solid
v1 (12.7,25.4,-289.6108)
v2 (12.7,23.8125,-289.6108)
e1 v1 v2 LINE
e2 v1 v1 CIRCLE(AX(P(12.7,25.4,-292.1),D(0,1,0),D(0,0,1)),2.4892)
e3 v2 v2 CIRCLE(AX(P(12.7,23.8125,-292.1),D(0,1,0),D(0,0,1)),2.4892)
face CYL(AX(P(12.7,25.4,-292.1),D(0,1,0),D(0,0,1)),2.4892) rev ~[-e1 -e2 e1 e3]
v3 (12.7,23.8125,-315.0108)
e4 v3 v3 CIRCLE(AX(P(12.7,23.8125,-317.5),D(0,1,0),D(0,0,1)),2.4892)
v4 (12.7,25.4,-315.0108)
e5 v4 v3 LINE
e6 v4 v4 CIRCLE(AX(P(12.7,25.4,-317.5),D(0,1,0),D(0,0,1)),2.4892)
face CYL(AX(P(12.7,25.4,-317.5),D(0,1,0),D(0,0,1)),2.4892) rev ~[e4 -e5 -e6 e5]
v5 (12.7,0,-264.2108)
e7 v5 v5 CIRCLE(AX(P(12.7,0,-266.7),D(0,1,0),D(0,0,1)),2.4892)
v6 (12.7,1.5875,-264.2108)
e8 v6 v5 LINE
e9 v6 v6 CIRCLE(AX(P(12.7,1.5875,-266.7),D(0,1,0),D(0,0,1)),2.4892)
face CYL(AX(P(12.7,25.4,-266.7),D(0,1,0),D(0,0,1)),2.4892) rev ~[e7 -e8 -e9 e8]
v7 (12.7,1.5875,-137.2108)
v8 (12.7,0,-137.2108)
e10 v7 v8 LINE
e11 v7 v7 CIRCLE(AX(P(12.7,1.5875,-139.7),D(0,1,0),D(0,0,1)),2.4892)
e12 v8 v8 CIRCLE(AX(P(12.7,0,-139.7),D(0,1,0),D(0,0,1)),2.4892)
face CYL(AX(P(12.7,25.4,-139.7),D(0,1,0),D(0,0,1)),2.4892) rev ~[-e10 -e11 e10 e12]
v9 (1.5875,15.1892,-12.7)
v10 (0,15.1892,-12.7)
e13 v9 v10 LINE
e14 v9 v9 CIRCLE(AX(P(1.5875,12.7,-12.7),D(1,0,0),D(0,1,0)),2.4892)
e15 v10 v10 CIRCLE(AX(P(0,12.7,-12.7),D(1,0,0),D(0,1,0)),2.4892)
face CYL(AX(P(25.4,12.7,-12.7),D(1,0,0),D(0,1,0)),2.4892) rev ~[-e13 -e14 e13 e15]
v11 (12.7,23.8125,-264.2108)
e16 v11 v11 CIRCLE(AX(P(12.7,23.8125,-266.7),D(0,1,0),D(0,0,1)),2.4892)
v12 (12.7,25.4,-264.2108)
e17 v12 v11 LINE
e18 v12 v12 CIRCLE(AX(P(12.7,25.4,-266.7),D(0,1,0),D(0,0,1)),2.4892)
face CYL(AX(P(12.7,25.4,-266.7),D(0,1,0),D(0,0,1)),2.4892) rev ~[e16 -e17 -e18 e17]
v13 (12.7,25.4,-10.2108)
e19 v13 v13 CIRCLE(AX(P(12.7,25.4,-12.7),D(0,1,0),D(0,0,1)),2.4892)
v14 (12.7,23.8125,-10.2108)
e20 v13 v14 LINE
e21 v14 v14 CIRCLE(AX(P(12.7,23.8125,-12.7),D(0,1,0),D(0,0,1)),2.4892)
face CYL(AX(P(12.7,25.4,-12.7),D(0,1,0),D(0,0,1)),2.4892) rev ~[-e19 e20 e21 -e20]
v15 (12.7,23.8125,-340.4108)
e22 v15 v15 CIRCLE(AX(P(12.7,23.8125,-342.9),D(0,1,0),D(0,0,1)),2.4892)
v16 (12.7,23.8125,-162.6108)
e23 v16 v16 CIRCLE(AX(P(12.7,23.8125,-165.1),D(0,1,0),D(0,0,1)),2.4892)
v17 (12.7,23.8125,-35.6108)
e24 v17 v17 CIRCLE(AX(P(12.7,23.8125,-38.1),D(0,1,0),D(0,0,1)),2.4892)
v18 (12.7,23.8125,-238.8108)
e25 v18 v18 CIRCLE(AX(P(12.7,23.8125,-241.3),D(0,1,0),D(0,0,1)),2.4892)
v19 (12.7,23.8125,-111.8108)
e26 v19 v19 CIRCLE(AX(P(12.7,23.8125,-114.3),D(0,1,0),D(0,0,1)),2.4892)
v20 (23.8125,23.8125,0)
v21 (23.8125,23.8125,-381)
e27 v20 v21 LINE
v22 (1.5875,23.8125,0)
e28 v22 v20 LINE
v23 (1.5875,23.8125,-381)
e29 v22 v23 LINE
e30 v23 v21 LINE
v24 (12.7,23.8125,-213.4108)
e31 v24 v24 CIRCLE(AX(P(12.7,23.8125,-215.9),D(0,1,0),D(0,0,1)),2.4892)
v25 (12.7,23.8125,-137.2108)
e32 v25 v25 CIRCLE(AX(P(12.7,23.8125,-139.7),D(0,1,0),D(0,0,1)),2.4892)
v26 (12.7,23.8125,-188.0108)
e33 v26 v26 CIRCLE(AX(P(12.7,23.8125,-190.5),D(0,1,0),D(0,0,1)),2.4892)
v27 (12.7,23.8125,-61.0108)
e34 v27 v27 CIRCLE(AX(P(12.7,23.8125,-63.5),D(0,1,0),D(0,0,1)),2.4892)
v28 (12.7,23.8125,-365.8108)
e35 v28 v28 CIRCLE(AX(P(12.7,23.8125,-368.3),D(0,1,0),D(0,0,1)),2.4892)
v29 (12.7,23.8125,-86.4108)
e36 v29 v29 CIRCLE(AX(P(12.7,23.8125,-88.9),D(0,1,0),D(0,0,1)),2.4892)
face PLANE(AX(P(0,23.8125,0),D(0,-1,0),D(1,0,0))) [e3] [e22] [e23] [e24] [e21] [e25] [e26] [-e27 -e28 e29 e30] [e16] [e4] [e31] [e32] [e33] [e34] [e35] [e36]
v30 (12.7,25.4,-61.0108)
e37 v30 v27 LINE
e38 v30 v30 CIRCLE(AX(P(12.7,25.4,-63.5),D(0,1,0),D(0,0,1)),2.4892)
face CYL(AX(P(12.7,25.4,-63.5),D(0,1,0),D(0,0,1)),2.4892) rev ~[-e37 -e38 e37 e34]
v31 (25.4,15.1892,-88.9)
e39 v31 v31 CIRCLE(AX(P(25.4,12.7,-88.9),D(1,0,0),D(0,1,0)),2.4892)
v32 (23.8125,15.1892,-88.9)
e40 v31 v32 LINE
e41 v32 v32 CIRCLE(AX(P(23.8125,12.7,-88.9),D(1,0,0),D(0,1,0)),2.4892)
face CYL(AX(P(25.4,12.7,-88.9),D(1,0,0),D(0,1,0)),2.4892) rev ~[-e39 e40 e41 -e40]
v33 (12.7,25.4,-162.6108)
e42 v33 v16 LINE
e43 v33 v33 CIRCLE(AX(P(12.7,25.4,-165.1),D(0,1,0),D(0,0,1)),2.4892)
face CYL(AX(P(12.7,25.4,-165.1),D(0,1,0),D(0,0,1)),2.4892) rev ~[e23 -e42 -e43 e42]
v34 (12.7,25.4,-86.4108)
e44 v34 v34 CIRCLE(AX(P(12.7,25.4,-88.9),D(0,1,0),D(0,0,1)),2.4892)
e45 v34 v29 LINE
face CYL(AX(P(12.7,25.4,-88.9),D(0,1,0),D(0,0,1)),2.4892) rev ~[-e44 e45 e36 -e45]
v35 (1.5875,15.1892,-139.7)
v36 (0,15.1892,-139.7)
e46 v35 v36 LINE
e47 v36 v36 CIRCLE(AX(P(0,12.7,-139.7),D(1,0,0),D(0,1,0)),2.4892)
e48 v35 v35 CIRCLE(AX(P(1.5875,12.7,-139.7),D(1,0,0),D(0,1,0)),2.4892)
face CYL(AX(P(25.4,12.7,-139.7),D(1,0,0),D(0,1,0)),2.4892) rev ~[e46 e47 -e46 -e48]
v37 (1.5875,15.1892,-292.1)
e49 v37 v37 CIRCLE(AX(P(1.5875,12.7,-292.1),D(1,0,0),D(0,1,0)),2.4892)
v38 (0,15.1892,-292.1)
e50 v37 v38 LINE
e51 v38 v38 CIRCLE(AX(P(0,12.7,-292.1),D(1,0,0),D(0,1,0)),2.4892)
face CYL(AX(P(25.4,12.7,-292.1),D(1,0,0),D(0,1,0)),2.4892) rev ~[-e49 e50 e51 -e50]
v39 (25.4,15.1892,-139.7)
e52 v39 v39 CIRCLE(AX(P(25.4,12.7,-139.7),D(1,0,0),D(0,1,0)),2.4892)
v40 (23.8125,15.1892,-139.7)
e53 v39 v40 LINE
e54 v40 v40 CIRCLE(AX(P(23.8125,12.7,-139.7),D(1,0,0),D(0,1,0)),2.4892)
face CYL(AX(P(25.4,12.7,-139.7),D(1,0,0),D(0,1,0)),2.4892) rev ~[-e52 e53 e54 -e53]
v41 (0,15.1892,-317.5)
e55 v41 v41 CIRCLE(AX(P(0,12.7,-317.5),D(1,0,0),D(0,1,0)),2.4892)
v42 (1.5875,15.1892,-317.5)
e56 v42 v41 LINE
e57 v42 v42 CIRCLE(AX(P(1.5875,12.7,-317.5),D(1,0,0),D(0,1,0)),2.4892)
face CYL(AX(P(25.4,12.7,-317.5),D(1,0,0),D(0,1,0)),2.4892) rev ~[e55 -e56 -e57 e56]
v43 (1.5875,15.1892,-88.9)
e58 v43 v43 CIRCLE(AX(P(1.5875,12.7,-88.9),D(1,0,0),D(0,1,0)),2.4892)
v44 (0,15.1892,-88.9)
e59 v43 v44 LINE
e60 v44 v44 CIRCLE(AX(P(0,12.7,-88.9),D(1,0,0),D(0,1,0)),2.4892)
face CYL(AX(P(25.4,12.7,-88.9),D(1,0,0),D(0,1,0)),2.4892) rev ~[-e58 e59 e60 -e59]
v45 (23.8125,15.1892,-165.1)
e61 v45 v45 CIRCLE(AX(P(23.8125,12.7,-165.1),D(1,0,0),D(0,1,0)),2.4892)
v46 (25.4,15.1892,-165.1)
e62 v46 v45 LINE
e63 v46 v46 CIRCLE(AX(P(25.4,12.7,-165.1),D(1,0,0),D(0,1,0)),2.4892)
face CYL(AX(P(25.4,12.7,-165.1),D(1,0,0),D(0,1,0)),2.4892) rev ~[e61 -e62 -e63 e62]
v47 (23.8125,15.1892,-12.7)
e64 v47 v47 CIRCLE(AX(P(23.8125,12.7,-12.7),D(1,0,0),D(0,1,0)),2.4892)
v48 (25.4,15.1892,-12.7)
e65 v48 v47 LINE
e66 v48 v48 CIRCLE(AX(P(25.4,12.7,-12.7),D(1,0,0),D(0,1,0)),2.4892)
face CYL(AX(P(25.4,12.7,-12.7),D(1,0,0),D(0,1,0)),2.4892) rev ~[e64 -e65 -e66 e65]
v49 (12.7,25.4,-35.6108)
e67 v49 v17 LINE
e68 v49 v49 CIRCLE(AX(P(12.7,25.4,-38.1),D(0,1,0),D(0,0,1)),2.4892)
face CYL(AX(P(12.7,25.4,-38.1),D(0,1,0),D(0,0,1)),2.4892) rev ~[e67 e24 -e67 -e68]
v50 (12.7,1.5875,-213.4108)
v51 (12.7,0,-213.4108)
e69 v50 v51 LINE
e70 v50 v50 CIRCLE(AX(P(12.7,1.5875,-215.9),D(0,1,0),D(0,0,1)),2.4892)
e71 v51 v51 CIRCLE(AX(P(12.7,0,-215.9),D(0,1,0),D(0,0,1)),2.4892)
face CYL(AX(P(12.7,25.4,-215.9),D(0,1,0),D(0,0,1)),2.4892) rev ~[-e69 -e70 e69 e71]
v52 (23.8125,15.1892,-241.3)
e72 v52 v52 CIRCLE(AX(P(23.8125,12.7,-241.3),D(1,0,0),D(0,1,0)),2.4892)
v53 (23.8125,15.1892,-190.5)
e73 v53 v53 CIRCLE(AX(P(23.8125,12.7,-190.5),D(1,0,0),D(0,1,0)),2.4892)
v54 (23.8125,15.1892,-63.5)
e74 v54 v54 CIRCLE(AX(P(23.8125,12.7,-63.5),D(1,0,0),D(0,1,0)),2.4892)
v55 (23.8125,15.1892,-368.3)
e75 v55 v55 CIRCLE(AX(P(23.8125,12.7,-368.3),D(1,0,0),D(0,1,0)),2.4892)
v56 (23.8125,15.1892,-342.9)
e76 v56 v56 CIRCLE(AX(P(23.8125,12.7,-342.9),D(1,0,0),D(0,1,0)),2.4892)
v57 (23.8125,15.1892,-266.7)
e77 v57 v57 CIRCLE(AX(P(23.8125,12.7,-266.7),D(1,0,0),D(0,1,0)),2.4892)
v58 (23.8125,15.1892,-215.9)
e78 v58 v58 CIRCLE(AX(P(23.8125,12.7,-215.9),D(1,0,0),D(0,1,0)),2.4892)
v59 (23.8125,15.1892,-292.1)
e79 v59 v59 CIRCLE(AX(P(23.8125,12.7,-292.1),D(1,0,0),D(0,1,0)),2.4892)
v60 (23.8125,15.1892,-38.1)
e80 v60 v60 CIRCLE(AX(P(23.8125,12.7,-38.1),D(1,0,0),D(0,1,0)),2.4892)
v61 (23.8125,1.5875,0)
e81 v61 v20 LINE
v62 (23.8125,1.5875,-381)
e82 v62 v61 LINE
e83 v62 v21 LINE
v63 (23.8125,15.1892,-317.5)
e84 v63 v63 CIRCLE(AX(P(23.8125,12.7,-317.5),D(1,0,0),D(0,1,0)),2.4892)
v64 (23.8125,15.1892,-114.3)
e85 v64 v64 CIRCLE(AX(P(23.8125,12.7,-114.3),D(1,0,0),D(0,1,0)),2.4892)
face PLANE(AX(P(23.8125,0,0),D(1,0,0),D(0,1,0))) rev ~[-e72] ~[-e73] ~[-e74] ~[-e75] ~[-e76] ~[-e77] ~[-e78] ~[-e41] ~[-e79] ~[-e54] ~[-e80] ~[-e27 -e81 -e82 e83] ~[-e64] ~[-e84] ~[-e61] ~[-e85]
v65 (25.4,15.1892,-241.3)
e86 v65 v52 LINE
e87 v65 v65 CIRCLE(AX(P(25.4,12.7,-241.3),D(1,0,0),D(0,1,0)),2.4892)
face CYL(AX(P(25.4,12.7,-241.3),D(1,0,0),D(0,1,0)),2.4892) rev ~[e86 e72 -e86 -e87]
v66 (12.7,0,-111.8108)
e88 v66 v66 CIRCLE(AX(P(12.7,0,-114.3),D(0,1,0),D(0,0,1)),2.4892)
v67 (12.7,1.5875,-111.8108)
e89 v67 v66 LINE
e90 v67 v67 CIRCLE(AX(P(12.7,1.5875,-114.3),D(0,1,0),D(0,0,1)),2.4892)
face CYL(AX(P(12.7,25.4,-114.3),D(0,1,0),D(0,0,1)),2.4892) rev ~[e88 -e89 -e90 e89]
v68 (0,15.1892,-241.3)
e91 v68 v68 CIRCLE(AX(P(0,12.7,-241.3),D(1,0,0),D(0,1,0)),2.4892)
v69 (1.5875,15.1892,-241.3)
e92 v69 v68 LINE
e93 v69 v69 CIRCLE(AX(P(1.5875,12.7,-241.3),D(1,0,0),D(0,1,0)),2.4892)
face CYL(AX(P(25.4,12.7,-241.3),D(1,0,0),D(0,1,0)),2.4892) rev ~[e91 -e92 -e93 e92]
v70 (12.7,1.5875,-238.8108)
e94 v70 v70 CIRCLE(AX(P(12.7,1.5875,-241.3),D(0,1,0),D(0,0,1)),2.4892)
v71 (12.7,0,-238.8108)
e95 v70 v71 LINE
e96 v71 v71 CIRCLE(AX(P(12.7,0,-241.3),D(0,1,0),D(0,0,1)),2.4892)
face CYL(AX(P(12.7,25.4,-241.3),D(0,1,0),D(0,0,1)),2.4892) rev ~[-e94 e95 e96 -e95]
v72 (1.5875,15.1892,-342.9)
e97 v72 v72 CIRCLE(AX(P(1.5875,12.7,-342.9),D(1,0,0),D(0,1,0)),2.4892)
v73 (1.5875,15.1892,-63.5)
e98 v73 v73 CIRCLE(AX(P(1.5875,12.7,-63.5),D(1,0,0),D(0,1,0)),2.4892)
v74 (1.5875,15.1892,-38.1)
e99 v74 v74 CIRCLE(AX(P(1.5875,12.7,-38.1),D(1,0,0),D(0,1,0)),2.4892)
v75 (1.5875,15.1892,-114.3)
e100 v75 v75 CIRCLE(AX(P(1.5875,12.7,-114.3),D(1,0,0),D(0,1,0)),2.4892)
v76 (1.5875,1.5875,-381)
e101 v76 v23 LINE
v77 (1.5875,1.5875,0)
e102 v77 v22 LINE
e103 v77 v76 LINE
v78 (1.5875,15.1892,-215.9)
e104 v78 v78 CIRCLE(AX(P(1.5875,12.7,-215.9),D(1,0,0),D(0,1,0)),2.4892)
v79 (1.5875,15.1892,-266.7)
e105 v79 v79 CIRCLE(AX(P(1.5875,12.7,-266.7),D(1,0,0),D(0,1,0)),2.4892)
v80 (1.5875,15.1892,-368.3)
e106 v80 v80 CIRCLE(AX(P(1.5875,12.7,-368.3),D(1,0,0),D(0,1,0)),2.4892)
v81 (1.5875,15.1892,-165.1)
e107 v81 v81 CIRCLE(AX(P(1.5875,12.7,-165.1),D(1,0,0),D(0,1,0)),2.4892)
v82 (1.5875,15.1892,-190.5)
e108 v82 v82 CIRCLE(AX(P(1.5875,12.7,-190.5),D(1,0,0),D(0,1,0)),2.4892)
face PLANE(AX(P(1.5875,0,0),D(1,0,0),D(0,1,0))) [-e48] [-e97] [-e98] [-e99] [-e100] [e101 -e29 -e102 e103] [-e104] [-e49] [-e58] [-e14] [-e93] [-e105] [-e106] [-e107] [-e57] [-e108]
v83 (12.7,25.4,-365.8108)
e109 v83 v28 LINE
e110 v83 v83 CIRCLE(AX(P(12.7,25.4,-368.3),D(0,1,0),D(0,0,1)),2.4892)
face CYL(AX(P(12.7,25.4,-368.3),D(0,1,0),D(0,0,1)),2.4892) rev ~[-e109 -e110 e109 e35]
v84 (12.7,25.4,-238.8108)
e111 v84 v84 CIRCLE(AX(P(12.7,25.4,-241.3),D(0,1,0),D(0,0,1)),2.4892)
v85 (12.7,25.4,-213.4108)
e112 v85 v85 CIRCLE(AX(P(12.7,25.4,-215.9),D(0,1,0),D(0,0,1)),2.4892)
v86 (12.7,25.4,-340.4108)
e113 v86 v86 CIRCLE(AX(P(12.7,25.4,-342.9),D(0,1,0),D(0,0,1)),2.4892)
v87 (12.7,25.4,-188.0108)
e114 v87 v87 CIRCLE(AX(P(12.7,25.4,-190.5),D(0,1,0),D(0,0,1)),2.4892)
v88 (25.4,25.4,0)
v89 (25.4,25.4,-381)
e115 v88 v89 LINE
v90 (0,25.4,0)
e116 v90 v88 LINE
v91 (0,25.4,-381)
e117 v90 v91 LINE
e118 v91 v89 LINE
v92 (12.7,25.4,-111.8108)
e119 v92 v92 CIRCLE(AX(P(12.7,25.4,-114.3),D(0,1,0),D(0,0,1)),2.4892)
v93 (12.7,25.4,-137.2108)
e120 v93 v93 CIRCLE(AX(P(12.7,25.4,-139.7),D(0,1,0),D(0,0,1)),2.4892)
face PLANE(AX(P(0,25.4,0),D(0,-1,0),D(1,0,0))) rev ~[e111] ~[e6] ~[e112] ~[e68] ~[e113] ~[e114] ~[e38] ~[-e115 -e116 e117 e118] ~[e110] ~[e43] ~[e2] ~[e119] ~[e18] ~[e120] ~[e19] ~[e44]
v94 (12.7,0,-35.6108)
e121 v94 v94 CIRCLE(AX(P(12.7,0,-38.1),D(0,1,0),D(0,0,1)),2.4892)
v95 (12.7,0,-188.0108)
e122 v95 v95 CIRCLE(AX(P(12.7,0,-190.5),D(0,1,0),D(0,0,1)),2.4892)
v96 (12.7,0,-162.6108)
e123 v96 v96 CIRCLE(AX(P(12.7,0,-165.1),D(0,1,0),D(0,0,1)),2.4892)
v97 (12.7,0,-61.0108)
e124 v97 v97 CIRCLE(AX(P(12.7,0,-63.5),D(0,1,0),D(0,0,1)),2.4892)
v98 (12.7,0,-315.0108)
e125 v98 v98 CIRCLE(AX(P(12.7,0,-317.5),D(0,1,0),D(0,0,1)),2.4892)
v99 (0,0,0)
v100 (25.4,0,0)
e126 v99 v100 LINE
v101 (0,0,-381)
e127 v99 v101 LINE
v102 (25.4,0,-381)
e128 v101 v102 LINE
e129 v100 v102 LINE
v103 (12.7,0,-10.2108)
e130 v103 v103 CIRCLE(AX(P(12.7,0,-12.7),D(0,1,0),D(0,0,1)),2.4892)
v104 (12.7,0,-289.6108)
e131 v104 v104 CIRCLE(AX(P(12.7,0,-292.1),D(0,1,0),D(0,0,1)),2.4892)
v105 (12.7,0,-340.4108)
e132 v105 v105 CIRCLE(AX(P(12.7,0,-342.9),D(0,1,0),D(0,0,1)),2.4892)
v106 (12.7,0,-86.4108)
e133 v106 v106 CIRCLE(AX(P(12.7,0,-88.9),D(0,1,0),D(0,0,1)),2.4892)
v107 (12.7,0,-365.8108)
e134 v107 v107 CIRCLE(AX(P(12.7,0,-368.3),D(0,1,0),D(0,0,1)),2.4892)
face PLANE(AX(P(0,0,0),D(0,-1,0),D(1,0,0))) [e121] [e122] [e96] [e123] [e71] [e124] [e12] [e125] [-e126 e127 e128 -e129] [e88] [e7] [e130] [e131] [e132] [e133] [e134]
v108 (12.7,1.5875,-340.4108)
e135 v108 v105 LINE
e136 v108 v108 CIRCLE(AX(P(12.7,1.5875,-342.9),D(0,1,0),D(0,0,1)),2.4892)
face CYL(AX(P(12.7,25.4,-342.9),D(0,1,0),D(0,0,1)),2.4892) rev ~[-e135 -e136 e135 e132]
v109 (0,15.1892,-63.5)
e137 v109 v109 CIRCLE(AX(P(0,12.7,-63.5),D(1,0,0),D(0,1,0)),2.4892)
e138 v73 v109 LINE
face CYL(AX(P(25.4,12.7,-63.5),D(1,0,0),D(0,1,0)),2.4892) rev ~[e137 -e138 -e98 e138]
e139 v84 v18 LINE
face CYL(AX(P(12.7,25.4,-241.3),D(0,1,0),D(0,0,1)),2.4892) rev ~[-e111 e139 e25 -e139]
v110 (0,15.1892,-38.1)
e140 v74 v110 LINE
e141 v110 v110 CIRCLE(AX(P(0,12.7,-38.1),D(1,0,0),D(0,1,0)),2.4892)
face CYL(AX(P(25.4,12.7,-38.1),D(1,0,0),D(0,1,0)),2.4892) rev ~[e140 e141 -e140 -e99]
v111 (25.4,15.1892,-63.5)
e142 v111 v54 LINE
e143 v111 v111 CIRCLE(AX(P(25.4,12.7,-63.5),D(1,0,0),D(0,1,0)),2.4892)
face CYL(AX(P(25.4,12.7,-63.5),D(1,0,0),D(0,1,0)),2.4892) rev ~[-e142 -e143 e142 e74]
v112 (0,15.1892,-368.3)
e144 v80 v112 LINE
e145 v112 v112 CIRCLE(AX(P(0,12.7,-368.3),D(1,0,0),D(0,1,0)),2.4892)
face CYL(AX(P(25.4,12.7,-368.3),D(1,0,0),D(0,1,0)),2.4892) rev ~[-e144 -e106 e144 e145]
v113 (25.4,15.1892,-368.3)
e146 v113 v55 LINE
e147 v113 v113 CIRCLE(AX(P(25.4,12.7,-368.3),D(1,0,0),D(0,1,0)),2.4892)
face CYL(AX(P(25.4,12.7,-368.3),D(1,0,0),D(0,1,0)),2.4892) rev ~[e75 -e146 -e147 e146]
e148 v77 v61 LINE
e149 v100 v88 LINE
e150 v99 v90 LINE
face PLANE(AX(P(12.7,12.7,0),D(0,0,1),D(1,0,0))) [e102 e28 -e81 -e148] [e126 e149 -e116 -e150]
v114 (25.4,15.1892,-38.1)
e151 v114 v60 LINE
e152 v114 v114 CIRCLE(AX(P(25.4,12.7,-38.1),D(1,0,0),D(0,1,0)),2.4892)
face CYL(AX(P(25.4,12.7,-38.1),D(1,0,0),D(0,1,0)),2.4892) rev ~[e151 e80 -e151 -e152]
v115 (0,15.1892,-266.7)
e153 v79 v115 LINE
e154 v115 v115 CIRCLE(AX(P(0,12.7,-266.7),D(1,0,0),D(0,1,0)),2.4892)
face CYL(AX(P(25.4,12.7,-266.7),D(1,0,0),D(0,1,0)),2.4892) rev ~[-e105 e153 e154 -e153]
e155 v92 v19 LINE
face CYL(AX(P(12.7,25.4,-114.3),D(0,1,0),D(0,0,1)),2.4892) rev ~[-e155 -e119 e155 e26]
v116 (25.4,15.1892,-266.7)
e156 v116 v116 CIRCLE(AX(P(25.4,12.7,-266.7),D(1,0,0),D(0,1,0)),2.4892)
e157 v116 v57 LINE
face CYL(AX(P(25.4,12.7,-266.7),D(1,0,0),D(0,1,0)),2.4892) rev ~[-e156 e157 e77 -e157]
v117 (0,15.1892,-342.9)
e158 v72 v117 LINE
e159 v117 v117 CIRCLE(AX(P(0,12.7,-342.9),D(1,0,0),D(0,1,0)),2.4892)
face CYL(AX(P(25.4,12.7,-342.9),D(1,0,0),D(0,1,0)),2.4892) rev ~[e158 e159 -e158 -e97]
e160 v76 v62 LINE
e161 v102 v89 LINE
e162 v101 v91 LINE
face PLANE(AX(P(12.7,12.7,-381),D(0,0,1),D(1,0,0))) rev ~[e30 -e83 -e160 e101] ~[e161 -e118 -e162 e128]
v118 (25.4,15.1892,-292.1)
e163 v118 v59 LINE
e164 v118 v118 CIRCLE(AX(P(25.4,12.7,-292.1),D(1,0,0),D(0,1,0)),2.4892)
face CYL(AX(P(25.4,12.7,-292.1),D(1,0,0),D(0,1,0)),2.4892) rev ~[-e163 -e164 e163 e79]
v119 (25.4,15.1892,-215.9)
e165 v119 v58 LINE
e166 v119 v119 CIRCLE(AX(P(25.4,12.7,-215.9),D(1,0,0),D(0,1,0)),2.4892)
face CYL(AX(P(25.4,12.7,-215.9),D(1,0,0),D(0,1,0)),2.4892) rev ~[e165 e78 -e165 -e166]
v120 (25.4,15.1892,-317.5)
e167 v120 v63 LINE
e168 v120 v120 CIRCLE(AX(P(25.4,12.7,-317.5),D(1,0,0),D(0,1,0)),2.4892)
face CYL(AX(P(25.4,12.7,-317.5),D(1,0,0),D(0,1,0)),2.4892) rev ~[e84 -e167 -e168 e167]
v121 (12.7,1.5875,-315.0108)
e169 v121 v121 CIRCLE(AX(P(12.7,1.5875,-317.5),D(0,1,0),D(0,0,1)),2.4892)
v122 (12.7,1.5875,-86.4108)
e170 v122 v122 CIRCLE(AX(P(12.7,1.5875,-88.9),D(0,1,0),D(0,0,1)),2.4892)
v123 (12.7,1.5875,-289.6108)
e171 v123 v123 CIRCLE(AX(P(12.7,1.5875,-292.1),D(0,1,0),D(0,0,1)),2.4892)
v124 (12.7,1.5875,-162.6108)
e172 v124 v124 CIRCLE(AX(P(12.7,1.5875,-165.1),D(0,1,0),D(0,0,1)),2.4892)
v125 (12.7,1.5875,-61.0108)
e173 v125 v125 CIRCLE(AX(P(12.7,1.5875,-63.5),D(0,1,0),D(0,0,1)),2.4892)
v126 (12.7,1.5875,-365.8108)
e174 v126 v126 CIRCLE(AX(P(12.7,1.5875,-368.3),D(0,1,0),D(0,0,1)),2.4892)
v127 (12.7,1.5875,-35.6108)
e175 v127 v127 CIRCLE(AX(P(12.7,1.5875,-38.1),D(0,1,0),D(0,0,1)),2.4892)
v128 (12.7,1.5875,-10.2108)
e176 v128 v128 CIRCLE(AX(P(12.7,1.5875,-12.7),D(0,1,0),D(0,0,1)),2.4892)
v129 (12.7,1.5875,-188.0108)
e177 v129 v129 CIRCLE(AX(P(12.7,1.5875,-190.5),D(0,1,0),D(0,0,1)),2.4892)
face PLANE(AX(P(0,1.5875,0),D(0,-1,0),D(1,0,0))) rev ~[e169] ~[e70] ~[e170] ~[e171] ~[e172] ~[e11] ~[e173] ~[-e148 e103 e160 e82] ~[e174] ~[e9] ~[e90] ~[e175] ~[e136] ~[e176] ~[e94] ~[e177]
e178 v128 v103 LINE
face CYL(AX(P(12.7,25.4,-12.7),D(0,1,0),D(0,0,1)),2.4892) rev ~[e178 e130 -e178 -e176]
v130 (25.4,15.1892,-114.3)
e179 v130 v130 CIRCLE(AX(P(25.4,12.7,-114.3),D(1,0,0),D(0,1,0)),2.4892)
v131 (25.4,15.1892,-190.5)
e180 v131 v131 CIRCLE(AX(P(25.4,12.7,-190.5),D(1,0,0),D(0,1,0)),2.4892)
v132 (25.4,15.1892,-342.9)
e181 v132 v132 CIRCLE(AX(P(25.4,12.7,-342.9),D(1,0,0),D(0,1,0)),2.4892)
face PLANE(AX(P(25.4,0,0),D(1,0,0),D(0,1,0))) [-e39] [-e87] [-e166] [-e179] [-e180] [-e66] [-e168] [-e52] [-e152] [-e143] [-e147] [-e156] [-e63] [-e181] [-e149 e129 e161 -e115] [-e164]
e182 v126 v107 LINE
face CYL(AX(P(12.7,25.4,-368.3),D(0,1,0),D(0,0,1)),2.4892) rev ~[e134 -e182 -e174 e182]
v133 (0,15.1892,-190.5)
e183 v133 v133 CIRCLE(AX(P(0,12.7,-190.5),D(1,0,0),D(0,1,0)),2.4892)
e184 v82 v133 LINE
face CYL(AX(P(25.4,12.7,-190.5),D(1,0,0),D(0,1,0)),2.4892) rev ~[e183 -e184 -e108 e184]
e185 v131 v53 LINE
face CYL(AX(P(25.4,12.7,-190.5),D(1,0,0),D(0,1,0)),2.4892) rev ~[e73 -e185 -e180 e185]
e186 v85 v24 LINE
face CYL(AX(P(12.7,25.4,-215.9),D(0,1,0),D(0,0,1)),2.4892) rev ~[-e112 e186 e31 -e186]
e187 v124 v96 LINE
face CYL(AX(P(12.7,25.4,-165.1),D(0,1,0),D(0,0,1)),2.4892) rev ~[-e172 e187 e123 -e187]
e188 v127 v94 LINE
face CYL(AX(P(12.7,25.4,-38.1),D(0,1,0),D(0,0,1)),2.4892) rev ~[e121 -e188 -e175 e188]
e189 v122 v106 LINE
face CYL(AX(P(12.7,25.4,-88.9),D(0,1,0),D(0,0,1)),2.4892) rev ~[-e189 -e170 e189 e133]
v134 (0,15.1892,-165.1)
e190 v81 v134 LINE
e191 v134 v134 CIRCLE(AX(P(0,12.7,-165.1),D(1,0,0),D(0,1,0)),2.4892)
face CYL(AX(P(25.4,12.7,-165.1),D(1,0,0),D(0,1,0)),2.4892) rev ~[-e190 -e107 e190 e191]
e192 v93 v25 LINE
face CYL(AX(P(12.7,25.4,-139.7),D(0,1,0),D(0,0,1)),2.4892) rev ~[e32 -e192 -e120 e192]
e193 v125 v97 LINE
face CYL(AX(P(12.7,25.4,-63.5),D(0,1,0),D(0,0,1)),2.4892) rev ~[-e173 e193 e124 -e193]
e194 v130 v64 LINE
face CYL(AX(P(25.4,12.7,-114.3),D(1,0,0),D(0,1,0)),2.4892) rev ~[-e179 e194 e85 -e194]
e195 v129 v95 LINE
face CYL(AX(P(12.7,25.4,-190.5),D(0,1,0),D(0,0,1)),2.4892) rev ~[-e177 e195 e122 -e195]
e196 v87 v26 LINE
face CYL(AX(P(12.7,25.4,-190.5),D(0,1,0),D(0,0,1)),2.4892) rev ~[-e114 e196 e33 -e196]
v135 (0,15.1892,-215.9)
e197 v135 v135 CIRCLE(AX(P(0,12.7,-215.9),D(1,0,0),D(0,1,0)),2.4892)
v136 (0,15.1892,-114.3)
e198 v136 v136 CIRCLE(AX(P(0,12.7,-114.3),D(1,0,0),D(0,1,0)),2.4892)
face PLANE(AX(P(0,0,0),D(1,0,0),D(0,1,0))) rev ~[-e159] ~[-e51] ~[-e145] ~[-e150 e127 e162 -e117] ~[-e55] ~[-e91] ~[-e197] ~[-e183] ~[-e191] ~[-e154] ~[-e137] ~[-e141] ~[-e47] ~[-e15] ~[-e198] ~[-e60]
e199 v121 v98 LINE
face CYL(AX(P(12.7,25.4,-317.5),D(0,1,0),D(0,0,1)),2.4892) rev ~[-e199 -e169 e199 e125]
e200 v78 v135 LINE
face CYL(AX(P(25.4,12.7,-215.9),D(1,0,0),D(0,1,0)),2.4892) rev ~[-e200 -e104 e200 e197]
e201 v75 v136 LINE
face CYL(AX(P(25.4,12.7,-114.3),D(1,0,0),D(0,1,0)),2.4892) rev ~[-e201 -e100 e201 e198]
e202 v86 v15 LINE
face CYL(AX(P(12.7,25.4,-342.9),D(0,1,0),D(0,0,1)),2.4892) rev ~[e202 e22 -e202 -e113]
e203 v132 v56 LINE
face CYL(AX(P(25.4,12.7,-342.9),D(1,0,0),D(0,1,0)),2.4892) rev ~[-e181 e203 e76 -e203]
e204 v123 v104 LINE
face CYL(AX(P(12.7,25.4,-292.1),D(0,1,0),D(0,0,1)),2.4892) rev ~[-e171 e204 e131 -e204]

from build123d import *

# Parameters (mm, degrees)
SKETCH1_W           = 25.4
SKETCH1_H           = 25.4
BOSS_EXTRUDE1_DEPTH = 381
SHELL1_T            = -1.5875
SKETCH2_R           = 2.4892
CUT_EXTRUDE1_DEPTH  = 383.689587002
SKETCH3_R           = 2.4892
CUT_EXTRUDE2_DEPTH  = 383.689587002


with BuildPart() as part:
    # Sketch1 → Boss-Extrude1 (new body)
    with BuildSketch(Plane.XY):
        with Locations((12.7, 12.7)):
            Rectangle(SKETCH1_W, SKETCH1_H)
    extrude(amount=-BOSS_EXTRUDE1_DEPTH)

    # Shell1
    shell1_openings = [part.faces().sort_by_distance(p)[0] for p in [
        (12.7, 12.7, -381),
        (12.7, 12.7, 0),
    ]]
    offset(amount=SHELL1_T, openings=shell1_openings, kind=Kind.INTERSECTION)

    # Sketch2 → Cut-Extrude1 (cut, through all)
    with BuildSketch(Plane(origin=(25.4, 0, 0), x_dir=(0, 0, -1), z_dir=(1, 0, 0))):
        with Locations(Location((12.7, 12.7, 0), (0, 0, 90))):
            Circle(SKETCH2_R)
        with Locations(Location((38.1, 12.7, 0), (0, 0, 90))):
            Circle(SKETCH2_R)
        with Locations(Location((63.5, 12.7, 0), (0, 0, 90))):
            Circle(SKETCH2_R)
        with Locations(Location((88.9, 12.7, 0), (0, 0, 90))):
            Circle(SKETCH2_R)
        with Locations(Location((114.3, 12.7, 0), (0, 0, 90))):
            Circle(SKETCH2_R)
        with Locations(Location((139.7, 12.7, 0), (0, 0, 90))):
            Circle(SKETCH2_R)
        with Locations(Location((165.1, 12.7, 0), (0, 0, 90))):
            Circle(SKETCH2_R)
        with Locations(Location((190.5, 12.7, 0), (0, 0, 90))):
            Circle(SKETCH2_R)
        with Locations(Location((215.9, 12.7, 0), (0, 0, 90))):
            Circle(SKETCH2_R)
        with Locations(Location((241.3, 12.7, 0), (0, 0, 90))):
            Circle(SKETCH2_R)
        with Locations(Location((266.7, 12.7, 0), (0, 0, 90))):
            Circle(SKETCH2_R)
        with Locations(Location((292.1, 12.7, 0), (0, 0, 90))):
            Circle(SKETCH2_R)
        with Locations(Location((317.5, 12.7, 0), (0, 0, 90))):
            Circle(SKETCH2_R)
        with Locations(Location((342.9, 12.7, 0), (0, 0, 90))):
            Circle(SKETCH2_R)
        with Locations(Location((368.3, 12.7, 0), (0, 0, 90))):
            Circle(SKETCH2_R)
    extrude(amount=-CUT_EXTRUDE1_DEPTH, mode=Mode.SUBTRACT)

    # Sketch3 → Cut-Extrude2 (cut, through all)
    with BuildSketch(Plane(origin=(0, 25.4, 0), x_dir=(1, 0, 0), z_dir=(0, 1, 0))):
        with Locations(Location((12.7, 12.7, 0), (0, 0, 270))):
            Circle(SKETCH3_R)
        with Locations(Location((12.7, 38.1, 0), (0, 0, 270))):
            Circle(SKETCH3_R)
        with Locations(Location((12.7, 63.5, 0), (0, 0, 270))):
            Circle(SKETCH3_R)
        with Locations(Location((12.7, 88.9, 0), (0, 0, 270))):
            Circle(SKETCH3_R)
        with Locations(Location((12.7, 114.3, 0), (0, 0, 270))):
            Circle(SKETCH3_R)
        with Locations(Location((12.7, 139.7, 0), (0, 0, 270))):
            Circle(SKETCH3_R)
        with Locations(Location((12.7, 165.1, 0), (0, 0, 270))):
            Circle(SKETCH3_R)
        with Locations(Location((12.7, 190.5, 0), (0, 0, 270))):
            Circle(SKETCH3_R)
        with Locations(Location((12.7, 215.9, 0), (0, 0, 270))):
            Circle(SKETCH3_R)
        with Locations(Location((12.7, 241.3, 0), (0, 0, 270))):
            Circle(SKETCH3_R)
        with Locations(Location((12.7, 266.7, 0), (0, 0, 270))):
            Circle(SKETCH3_R)
        with Locations(Location((12.7, 292.1, 0), (0, 0, 270))):
            Circle(SKETCH3_R)
        with Locations(Location((12.7, 317.5, 0), (0, 0, 270))):
            Circle(SKETCH3_R)
        with Locations(Location((12.7, 342.9, 0), (0, 0, 270))):
            Circle(SKETCH3_R)
        with Locations(Location((12.7, 368.3, 0), (0, 0, 270))):
            Circle(SKETCH3_R)
    extrude(amount=-CUT_EXTRUDE2_DEPTH, mode=Mode.SUBTRACT)


solid = part.part
